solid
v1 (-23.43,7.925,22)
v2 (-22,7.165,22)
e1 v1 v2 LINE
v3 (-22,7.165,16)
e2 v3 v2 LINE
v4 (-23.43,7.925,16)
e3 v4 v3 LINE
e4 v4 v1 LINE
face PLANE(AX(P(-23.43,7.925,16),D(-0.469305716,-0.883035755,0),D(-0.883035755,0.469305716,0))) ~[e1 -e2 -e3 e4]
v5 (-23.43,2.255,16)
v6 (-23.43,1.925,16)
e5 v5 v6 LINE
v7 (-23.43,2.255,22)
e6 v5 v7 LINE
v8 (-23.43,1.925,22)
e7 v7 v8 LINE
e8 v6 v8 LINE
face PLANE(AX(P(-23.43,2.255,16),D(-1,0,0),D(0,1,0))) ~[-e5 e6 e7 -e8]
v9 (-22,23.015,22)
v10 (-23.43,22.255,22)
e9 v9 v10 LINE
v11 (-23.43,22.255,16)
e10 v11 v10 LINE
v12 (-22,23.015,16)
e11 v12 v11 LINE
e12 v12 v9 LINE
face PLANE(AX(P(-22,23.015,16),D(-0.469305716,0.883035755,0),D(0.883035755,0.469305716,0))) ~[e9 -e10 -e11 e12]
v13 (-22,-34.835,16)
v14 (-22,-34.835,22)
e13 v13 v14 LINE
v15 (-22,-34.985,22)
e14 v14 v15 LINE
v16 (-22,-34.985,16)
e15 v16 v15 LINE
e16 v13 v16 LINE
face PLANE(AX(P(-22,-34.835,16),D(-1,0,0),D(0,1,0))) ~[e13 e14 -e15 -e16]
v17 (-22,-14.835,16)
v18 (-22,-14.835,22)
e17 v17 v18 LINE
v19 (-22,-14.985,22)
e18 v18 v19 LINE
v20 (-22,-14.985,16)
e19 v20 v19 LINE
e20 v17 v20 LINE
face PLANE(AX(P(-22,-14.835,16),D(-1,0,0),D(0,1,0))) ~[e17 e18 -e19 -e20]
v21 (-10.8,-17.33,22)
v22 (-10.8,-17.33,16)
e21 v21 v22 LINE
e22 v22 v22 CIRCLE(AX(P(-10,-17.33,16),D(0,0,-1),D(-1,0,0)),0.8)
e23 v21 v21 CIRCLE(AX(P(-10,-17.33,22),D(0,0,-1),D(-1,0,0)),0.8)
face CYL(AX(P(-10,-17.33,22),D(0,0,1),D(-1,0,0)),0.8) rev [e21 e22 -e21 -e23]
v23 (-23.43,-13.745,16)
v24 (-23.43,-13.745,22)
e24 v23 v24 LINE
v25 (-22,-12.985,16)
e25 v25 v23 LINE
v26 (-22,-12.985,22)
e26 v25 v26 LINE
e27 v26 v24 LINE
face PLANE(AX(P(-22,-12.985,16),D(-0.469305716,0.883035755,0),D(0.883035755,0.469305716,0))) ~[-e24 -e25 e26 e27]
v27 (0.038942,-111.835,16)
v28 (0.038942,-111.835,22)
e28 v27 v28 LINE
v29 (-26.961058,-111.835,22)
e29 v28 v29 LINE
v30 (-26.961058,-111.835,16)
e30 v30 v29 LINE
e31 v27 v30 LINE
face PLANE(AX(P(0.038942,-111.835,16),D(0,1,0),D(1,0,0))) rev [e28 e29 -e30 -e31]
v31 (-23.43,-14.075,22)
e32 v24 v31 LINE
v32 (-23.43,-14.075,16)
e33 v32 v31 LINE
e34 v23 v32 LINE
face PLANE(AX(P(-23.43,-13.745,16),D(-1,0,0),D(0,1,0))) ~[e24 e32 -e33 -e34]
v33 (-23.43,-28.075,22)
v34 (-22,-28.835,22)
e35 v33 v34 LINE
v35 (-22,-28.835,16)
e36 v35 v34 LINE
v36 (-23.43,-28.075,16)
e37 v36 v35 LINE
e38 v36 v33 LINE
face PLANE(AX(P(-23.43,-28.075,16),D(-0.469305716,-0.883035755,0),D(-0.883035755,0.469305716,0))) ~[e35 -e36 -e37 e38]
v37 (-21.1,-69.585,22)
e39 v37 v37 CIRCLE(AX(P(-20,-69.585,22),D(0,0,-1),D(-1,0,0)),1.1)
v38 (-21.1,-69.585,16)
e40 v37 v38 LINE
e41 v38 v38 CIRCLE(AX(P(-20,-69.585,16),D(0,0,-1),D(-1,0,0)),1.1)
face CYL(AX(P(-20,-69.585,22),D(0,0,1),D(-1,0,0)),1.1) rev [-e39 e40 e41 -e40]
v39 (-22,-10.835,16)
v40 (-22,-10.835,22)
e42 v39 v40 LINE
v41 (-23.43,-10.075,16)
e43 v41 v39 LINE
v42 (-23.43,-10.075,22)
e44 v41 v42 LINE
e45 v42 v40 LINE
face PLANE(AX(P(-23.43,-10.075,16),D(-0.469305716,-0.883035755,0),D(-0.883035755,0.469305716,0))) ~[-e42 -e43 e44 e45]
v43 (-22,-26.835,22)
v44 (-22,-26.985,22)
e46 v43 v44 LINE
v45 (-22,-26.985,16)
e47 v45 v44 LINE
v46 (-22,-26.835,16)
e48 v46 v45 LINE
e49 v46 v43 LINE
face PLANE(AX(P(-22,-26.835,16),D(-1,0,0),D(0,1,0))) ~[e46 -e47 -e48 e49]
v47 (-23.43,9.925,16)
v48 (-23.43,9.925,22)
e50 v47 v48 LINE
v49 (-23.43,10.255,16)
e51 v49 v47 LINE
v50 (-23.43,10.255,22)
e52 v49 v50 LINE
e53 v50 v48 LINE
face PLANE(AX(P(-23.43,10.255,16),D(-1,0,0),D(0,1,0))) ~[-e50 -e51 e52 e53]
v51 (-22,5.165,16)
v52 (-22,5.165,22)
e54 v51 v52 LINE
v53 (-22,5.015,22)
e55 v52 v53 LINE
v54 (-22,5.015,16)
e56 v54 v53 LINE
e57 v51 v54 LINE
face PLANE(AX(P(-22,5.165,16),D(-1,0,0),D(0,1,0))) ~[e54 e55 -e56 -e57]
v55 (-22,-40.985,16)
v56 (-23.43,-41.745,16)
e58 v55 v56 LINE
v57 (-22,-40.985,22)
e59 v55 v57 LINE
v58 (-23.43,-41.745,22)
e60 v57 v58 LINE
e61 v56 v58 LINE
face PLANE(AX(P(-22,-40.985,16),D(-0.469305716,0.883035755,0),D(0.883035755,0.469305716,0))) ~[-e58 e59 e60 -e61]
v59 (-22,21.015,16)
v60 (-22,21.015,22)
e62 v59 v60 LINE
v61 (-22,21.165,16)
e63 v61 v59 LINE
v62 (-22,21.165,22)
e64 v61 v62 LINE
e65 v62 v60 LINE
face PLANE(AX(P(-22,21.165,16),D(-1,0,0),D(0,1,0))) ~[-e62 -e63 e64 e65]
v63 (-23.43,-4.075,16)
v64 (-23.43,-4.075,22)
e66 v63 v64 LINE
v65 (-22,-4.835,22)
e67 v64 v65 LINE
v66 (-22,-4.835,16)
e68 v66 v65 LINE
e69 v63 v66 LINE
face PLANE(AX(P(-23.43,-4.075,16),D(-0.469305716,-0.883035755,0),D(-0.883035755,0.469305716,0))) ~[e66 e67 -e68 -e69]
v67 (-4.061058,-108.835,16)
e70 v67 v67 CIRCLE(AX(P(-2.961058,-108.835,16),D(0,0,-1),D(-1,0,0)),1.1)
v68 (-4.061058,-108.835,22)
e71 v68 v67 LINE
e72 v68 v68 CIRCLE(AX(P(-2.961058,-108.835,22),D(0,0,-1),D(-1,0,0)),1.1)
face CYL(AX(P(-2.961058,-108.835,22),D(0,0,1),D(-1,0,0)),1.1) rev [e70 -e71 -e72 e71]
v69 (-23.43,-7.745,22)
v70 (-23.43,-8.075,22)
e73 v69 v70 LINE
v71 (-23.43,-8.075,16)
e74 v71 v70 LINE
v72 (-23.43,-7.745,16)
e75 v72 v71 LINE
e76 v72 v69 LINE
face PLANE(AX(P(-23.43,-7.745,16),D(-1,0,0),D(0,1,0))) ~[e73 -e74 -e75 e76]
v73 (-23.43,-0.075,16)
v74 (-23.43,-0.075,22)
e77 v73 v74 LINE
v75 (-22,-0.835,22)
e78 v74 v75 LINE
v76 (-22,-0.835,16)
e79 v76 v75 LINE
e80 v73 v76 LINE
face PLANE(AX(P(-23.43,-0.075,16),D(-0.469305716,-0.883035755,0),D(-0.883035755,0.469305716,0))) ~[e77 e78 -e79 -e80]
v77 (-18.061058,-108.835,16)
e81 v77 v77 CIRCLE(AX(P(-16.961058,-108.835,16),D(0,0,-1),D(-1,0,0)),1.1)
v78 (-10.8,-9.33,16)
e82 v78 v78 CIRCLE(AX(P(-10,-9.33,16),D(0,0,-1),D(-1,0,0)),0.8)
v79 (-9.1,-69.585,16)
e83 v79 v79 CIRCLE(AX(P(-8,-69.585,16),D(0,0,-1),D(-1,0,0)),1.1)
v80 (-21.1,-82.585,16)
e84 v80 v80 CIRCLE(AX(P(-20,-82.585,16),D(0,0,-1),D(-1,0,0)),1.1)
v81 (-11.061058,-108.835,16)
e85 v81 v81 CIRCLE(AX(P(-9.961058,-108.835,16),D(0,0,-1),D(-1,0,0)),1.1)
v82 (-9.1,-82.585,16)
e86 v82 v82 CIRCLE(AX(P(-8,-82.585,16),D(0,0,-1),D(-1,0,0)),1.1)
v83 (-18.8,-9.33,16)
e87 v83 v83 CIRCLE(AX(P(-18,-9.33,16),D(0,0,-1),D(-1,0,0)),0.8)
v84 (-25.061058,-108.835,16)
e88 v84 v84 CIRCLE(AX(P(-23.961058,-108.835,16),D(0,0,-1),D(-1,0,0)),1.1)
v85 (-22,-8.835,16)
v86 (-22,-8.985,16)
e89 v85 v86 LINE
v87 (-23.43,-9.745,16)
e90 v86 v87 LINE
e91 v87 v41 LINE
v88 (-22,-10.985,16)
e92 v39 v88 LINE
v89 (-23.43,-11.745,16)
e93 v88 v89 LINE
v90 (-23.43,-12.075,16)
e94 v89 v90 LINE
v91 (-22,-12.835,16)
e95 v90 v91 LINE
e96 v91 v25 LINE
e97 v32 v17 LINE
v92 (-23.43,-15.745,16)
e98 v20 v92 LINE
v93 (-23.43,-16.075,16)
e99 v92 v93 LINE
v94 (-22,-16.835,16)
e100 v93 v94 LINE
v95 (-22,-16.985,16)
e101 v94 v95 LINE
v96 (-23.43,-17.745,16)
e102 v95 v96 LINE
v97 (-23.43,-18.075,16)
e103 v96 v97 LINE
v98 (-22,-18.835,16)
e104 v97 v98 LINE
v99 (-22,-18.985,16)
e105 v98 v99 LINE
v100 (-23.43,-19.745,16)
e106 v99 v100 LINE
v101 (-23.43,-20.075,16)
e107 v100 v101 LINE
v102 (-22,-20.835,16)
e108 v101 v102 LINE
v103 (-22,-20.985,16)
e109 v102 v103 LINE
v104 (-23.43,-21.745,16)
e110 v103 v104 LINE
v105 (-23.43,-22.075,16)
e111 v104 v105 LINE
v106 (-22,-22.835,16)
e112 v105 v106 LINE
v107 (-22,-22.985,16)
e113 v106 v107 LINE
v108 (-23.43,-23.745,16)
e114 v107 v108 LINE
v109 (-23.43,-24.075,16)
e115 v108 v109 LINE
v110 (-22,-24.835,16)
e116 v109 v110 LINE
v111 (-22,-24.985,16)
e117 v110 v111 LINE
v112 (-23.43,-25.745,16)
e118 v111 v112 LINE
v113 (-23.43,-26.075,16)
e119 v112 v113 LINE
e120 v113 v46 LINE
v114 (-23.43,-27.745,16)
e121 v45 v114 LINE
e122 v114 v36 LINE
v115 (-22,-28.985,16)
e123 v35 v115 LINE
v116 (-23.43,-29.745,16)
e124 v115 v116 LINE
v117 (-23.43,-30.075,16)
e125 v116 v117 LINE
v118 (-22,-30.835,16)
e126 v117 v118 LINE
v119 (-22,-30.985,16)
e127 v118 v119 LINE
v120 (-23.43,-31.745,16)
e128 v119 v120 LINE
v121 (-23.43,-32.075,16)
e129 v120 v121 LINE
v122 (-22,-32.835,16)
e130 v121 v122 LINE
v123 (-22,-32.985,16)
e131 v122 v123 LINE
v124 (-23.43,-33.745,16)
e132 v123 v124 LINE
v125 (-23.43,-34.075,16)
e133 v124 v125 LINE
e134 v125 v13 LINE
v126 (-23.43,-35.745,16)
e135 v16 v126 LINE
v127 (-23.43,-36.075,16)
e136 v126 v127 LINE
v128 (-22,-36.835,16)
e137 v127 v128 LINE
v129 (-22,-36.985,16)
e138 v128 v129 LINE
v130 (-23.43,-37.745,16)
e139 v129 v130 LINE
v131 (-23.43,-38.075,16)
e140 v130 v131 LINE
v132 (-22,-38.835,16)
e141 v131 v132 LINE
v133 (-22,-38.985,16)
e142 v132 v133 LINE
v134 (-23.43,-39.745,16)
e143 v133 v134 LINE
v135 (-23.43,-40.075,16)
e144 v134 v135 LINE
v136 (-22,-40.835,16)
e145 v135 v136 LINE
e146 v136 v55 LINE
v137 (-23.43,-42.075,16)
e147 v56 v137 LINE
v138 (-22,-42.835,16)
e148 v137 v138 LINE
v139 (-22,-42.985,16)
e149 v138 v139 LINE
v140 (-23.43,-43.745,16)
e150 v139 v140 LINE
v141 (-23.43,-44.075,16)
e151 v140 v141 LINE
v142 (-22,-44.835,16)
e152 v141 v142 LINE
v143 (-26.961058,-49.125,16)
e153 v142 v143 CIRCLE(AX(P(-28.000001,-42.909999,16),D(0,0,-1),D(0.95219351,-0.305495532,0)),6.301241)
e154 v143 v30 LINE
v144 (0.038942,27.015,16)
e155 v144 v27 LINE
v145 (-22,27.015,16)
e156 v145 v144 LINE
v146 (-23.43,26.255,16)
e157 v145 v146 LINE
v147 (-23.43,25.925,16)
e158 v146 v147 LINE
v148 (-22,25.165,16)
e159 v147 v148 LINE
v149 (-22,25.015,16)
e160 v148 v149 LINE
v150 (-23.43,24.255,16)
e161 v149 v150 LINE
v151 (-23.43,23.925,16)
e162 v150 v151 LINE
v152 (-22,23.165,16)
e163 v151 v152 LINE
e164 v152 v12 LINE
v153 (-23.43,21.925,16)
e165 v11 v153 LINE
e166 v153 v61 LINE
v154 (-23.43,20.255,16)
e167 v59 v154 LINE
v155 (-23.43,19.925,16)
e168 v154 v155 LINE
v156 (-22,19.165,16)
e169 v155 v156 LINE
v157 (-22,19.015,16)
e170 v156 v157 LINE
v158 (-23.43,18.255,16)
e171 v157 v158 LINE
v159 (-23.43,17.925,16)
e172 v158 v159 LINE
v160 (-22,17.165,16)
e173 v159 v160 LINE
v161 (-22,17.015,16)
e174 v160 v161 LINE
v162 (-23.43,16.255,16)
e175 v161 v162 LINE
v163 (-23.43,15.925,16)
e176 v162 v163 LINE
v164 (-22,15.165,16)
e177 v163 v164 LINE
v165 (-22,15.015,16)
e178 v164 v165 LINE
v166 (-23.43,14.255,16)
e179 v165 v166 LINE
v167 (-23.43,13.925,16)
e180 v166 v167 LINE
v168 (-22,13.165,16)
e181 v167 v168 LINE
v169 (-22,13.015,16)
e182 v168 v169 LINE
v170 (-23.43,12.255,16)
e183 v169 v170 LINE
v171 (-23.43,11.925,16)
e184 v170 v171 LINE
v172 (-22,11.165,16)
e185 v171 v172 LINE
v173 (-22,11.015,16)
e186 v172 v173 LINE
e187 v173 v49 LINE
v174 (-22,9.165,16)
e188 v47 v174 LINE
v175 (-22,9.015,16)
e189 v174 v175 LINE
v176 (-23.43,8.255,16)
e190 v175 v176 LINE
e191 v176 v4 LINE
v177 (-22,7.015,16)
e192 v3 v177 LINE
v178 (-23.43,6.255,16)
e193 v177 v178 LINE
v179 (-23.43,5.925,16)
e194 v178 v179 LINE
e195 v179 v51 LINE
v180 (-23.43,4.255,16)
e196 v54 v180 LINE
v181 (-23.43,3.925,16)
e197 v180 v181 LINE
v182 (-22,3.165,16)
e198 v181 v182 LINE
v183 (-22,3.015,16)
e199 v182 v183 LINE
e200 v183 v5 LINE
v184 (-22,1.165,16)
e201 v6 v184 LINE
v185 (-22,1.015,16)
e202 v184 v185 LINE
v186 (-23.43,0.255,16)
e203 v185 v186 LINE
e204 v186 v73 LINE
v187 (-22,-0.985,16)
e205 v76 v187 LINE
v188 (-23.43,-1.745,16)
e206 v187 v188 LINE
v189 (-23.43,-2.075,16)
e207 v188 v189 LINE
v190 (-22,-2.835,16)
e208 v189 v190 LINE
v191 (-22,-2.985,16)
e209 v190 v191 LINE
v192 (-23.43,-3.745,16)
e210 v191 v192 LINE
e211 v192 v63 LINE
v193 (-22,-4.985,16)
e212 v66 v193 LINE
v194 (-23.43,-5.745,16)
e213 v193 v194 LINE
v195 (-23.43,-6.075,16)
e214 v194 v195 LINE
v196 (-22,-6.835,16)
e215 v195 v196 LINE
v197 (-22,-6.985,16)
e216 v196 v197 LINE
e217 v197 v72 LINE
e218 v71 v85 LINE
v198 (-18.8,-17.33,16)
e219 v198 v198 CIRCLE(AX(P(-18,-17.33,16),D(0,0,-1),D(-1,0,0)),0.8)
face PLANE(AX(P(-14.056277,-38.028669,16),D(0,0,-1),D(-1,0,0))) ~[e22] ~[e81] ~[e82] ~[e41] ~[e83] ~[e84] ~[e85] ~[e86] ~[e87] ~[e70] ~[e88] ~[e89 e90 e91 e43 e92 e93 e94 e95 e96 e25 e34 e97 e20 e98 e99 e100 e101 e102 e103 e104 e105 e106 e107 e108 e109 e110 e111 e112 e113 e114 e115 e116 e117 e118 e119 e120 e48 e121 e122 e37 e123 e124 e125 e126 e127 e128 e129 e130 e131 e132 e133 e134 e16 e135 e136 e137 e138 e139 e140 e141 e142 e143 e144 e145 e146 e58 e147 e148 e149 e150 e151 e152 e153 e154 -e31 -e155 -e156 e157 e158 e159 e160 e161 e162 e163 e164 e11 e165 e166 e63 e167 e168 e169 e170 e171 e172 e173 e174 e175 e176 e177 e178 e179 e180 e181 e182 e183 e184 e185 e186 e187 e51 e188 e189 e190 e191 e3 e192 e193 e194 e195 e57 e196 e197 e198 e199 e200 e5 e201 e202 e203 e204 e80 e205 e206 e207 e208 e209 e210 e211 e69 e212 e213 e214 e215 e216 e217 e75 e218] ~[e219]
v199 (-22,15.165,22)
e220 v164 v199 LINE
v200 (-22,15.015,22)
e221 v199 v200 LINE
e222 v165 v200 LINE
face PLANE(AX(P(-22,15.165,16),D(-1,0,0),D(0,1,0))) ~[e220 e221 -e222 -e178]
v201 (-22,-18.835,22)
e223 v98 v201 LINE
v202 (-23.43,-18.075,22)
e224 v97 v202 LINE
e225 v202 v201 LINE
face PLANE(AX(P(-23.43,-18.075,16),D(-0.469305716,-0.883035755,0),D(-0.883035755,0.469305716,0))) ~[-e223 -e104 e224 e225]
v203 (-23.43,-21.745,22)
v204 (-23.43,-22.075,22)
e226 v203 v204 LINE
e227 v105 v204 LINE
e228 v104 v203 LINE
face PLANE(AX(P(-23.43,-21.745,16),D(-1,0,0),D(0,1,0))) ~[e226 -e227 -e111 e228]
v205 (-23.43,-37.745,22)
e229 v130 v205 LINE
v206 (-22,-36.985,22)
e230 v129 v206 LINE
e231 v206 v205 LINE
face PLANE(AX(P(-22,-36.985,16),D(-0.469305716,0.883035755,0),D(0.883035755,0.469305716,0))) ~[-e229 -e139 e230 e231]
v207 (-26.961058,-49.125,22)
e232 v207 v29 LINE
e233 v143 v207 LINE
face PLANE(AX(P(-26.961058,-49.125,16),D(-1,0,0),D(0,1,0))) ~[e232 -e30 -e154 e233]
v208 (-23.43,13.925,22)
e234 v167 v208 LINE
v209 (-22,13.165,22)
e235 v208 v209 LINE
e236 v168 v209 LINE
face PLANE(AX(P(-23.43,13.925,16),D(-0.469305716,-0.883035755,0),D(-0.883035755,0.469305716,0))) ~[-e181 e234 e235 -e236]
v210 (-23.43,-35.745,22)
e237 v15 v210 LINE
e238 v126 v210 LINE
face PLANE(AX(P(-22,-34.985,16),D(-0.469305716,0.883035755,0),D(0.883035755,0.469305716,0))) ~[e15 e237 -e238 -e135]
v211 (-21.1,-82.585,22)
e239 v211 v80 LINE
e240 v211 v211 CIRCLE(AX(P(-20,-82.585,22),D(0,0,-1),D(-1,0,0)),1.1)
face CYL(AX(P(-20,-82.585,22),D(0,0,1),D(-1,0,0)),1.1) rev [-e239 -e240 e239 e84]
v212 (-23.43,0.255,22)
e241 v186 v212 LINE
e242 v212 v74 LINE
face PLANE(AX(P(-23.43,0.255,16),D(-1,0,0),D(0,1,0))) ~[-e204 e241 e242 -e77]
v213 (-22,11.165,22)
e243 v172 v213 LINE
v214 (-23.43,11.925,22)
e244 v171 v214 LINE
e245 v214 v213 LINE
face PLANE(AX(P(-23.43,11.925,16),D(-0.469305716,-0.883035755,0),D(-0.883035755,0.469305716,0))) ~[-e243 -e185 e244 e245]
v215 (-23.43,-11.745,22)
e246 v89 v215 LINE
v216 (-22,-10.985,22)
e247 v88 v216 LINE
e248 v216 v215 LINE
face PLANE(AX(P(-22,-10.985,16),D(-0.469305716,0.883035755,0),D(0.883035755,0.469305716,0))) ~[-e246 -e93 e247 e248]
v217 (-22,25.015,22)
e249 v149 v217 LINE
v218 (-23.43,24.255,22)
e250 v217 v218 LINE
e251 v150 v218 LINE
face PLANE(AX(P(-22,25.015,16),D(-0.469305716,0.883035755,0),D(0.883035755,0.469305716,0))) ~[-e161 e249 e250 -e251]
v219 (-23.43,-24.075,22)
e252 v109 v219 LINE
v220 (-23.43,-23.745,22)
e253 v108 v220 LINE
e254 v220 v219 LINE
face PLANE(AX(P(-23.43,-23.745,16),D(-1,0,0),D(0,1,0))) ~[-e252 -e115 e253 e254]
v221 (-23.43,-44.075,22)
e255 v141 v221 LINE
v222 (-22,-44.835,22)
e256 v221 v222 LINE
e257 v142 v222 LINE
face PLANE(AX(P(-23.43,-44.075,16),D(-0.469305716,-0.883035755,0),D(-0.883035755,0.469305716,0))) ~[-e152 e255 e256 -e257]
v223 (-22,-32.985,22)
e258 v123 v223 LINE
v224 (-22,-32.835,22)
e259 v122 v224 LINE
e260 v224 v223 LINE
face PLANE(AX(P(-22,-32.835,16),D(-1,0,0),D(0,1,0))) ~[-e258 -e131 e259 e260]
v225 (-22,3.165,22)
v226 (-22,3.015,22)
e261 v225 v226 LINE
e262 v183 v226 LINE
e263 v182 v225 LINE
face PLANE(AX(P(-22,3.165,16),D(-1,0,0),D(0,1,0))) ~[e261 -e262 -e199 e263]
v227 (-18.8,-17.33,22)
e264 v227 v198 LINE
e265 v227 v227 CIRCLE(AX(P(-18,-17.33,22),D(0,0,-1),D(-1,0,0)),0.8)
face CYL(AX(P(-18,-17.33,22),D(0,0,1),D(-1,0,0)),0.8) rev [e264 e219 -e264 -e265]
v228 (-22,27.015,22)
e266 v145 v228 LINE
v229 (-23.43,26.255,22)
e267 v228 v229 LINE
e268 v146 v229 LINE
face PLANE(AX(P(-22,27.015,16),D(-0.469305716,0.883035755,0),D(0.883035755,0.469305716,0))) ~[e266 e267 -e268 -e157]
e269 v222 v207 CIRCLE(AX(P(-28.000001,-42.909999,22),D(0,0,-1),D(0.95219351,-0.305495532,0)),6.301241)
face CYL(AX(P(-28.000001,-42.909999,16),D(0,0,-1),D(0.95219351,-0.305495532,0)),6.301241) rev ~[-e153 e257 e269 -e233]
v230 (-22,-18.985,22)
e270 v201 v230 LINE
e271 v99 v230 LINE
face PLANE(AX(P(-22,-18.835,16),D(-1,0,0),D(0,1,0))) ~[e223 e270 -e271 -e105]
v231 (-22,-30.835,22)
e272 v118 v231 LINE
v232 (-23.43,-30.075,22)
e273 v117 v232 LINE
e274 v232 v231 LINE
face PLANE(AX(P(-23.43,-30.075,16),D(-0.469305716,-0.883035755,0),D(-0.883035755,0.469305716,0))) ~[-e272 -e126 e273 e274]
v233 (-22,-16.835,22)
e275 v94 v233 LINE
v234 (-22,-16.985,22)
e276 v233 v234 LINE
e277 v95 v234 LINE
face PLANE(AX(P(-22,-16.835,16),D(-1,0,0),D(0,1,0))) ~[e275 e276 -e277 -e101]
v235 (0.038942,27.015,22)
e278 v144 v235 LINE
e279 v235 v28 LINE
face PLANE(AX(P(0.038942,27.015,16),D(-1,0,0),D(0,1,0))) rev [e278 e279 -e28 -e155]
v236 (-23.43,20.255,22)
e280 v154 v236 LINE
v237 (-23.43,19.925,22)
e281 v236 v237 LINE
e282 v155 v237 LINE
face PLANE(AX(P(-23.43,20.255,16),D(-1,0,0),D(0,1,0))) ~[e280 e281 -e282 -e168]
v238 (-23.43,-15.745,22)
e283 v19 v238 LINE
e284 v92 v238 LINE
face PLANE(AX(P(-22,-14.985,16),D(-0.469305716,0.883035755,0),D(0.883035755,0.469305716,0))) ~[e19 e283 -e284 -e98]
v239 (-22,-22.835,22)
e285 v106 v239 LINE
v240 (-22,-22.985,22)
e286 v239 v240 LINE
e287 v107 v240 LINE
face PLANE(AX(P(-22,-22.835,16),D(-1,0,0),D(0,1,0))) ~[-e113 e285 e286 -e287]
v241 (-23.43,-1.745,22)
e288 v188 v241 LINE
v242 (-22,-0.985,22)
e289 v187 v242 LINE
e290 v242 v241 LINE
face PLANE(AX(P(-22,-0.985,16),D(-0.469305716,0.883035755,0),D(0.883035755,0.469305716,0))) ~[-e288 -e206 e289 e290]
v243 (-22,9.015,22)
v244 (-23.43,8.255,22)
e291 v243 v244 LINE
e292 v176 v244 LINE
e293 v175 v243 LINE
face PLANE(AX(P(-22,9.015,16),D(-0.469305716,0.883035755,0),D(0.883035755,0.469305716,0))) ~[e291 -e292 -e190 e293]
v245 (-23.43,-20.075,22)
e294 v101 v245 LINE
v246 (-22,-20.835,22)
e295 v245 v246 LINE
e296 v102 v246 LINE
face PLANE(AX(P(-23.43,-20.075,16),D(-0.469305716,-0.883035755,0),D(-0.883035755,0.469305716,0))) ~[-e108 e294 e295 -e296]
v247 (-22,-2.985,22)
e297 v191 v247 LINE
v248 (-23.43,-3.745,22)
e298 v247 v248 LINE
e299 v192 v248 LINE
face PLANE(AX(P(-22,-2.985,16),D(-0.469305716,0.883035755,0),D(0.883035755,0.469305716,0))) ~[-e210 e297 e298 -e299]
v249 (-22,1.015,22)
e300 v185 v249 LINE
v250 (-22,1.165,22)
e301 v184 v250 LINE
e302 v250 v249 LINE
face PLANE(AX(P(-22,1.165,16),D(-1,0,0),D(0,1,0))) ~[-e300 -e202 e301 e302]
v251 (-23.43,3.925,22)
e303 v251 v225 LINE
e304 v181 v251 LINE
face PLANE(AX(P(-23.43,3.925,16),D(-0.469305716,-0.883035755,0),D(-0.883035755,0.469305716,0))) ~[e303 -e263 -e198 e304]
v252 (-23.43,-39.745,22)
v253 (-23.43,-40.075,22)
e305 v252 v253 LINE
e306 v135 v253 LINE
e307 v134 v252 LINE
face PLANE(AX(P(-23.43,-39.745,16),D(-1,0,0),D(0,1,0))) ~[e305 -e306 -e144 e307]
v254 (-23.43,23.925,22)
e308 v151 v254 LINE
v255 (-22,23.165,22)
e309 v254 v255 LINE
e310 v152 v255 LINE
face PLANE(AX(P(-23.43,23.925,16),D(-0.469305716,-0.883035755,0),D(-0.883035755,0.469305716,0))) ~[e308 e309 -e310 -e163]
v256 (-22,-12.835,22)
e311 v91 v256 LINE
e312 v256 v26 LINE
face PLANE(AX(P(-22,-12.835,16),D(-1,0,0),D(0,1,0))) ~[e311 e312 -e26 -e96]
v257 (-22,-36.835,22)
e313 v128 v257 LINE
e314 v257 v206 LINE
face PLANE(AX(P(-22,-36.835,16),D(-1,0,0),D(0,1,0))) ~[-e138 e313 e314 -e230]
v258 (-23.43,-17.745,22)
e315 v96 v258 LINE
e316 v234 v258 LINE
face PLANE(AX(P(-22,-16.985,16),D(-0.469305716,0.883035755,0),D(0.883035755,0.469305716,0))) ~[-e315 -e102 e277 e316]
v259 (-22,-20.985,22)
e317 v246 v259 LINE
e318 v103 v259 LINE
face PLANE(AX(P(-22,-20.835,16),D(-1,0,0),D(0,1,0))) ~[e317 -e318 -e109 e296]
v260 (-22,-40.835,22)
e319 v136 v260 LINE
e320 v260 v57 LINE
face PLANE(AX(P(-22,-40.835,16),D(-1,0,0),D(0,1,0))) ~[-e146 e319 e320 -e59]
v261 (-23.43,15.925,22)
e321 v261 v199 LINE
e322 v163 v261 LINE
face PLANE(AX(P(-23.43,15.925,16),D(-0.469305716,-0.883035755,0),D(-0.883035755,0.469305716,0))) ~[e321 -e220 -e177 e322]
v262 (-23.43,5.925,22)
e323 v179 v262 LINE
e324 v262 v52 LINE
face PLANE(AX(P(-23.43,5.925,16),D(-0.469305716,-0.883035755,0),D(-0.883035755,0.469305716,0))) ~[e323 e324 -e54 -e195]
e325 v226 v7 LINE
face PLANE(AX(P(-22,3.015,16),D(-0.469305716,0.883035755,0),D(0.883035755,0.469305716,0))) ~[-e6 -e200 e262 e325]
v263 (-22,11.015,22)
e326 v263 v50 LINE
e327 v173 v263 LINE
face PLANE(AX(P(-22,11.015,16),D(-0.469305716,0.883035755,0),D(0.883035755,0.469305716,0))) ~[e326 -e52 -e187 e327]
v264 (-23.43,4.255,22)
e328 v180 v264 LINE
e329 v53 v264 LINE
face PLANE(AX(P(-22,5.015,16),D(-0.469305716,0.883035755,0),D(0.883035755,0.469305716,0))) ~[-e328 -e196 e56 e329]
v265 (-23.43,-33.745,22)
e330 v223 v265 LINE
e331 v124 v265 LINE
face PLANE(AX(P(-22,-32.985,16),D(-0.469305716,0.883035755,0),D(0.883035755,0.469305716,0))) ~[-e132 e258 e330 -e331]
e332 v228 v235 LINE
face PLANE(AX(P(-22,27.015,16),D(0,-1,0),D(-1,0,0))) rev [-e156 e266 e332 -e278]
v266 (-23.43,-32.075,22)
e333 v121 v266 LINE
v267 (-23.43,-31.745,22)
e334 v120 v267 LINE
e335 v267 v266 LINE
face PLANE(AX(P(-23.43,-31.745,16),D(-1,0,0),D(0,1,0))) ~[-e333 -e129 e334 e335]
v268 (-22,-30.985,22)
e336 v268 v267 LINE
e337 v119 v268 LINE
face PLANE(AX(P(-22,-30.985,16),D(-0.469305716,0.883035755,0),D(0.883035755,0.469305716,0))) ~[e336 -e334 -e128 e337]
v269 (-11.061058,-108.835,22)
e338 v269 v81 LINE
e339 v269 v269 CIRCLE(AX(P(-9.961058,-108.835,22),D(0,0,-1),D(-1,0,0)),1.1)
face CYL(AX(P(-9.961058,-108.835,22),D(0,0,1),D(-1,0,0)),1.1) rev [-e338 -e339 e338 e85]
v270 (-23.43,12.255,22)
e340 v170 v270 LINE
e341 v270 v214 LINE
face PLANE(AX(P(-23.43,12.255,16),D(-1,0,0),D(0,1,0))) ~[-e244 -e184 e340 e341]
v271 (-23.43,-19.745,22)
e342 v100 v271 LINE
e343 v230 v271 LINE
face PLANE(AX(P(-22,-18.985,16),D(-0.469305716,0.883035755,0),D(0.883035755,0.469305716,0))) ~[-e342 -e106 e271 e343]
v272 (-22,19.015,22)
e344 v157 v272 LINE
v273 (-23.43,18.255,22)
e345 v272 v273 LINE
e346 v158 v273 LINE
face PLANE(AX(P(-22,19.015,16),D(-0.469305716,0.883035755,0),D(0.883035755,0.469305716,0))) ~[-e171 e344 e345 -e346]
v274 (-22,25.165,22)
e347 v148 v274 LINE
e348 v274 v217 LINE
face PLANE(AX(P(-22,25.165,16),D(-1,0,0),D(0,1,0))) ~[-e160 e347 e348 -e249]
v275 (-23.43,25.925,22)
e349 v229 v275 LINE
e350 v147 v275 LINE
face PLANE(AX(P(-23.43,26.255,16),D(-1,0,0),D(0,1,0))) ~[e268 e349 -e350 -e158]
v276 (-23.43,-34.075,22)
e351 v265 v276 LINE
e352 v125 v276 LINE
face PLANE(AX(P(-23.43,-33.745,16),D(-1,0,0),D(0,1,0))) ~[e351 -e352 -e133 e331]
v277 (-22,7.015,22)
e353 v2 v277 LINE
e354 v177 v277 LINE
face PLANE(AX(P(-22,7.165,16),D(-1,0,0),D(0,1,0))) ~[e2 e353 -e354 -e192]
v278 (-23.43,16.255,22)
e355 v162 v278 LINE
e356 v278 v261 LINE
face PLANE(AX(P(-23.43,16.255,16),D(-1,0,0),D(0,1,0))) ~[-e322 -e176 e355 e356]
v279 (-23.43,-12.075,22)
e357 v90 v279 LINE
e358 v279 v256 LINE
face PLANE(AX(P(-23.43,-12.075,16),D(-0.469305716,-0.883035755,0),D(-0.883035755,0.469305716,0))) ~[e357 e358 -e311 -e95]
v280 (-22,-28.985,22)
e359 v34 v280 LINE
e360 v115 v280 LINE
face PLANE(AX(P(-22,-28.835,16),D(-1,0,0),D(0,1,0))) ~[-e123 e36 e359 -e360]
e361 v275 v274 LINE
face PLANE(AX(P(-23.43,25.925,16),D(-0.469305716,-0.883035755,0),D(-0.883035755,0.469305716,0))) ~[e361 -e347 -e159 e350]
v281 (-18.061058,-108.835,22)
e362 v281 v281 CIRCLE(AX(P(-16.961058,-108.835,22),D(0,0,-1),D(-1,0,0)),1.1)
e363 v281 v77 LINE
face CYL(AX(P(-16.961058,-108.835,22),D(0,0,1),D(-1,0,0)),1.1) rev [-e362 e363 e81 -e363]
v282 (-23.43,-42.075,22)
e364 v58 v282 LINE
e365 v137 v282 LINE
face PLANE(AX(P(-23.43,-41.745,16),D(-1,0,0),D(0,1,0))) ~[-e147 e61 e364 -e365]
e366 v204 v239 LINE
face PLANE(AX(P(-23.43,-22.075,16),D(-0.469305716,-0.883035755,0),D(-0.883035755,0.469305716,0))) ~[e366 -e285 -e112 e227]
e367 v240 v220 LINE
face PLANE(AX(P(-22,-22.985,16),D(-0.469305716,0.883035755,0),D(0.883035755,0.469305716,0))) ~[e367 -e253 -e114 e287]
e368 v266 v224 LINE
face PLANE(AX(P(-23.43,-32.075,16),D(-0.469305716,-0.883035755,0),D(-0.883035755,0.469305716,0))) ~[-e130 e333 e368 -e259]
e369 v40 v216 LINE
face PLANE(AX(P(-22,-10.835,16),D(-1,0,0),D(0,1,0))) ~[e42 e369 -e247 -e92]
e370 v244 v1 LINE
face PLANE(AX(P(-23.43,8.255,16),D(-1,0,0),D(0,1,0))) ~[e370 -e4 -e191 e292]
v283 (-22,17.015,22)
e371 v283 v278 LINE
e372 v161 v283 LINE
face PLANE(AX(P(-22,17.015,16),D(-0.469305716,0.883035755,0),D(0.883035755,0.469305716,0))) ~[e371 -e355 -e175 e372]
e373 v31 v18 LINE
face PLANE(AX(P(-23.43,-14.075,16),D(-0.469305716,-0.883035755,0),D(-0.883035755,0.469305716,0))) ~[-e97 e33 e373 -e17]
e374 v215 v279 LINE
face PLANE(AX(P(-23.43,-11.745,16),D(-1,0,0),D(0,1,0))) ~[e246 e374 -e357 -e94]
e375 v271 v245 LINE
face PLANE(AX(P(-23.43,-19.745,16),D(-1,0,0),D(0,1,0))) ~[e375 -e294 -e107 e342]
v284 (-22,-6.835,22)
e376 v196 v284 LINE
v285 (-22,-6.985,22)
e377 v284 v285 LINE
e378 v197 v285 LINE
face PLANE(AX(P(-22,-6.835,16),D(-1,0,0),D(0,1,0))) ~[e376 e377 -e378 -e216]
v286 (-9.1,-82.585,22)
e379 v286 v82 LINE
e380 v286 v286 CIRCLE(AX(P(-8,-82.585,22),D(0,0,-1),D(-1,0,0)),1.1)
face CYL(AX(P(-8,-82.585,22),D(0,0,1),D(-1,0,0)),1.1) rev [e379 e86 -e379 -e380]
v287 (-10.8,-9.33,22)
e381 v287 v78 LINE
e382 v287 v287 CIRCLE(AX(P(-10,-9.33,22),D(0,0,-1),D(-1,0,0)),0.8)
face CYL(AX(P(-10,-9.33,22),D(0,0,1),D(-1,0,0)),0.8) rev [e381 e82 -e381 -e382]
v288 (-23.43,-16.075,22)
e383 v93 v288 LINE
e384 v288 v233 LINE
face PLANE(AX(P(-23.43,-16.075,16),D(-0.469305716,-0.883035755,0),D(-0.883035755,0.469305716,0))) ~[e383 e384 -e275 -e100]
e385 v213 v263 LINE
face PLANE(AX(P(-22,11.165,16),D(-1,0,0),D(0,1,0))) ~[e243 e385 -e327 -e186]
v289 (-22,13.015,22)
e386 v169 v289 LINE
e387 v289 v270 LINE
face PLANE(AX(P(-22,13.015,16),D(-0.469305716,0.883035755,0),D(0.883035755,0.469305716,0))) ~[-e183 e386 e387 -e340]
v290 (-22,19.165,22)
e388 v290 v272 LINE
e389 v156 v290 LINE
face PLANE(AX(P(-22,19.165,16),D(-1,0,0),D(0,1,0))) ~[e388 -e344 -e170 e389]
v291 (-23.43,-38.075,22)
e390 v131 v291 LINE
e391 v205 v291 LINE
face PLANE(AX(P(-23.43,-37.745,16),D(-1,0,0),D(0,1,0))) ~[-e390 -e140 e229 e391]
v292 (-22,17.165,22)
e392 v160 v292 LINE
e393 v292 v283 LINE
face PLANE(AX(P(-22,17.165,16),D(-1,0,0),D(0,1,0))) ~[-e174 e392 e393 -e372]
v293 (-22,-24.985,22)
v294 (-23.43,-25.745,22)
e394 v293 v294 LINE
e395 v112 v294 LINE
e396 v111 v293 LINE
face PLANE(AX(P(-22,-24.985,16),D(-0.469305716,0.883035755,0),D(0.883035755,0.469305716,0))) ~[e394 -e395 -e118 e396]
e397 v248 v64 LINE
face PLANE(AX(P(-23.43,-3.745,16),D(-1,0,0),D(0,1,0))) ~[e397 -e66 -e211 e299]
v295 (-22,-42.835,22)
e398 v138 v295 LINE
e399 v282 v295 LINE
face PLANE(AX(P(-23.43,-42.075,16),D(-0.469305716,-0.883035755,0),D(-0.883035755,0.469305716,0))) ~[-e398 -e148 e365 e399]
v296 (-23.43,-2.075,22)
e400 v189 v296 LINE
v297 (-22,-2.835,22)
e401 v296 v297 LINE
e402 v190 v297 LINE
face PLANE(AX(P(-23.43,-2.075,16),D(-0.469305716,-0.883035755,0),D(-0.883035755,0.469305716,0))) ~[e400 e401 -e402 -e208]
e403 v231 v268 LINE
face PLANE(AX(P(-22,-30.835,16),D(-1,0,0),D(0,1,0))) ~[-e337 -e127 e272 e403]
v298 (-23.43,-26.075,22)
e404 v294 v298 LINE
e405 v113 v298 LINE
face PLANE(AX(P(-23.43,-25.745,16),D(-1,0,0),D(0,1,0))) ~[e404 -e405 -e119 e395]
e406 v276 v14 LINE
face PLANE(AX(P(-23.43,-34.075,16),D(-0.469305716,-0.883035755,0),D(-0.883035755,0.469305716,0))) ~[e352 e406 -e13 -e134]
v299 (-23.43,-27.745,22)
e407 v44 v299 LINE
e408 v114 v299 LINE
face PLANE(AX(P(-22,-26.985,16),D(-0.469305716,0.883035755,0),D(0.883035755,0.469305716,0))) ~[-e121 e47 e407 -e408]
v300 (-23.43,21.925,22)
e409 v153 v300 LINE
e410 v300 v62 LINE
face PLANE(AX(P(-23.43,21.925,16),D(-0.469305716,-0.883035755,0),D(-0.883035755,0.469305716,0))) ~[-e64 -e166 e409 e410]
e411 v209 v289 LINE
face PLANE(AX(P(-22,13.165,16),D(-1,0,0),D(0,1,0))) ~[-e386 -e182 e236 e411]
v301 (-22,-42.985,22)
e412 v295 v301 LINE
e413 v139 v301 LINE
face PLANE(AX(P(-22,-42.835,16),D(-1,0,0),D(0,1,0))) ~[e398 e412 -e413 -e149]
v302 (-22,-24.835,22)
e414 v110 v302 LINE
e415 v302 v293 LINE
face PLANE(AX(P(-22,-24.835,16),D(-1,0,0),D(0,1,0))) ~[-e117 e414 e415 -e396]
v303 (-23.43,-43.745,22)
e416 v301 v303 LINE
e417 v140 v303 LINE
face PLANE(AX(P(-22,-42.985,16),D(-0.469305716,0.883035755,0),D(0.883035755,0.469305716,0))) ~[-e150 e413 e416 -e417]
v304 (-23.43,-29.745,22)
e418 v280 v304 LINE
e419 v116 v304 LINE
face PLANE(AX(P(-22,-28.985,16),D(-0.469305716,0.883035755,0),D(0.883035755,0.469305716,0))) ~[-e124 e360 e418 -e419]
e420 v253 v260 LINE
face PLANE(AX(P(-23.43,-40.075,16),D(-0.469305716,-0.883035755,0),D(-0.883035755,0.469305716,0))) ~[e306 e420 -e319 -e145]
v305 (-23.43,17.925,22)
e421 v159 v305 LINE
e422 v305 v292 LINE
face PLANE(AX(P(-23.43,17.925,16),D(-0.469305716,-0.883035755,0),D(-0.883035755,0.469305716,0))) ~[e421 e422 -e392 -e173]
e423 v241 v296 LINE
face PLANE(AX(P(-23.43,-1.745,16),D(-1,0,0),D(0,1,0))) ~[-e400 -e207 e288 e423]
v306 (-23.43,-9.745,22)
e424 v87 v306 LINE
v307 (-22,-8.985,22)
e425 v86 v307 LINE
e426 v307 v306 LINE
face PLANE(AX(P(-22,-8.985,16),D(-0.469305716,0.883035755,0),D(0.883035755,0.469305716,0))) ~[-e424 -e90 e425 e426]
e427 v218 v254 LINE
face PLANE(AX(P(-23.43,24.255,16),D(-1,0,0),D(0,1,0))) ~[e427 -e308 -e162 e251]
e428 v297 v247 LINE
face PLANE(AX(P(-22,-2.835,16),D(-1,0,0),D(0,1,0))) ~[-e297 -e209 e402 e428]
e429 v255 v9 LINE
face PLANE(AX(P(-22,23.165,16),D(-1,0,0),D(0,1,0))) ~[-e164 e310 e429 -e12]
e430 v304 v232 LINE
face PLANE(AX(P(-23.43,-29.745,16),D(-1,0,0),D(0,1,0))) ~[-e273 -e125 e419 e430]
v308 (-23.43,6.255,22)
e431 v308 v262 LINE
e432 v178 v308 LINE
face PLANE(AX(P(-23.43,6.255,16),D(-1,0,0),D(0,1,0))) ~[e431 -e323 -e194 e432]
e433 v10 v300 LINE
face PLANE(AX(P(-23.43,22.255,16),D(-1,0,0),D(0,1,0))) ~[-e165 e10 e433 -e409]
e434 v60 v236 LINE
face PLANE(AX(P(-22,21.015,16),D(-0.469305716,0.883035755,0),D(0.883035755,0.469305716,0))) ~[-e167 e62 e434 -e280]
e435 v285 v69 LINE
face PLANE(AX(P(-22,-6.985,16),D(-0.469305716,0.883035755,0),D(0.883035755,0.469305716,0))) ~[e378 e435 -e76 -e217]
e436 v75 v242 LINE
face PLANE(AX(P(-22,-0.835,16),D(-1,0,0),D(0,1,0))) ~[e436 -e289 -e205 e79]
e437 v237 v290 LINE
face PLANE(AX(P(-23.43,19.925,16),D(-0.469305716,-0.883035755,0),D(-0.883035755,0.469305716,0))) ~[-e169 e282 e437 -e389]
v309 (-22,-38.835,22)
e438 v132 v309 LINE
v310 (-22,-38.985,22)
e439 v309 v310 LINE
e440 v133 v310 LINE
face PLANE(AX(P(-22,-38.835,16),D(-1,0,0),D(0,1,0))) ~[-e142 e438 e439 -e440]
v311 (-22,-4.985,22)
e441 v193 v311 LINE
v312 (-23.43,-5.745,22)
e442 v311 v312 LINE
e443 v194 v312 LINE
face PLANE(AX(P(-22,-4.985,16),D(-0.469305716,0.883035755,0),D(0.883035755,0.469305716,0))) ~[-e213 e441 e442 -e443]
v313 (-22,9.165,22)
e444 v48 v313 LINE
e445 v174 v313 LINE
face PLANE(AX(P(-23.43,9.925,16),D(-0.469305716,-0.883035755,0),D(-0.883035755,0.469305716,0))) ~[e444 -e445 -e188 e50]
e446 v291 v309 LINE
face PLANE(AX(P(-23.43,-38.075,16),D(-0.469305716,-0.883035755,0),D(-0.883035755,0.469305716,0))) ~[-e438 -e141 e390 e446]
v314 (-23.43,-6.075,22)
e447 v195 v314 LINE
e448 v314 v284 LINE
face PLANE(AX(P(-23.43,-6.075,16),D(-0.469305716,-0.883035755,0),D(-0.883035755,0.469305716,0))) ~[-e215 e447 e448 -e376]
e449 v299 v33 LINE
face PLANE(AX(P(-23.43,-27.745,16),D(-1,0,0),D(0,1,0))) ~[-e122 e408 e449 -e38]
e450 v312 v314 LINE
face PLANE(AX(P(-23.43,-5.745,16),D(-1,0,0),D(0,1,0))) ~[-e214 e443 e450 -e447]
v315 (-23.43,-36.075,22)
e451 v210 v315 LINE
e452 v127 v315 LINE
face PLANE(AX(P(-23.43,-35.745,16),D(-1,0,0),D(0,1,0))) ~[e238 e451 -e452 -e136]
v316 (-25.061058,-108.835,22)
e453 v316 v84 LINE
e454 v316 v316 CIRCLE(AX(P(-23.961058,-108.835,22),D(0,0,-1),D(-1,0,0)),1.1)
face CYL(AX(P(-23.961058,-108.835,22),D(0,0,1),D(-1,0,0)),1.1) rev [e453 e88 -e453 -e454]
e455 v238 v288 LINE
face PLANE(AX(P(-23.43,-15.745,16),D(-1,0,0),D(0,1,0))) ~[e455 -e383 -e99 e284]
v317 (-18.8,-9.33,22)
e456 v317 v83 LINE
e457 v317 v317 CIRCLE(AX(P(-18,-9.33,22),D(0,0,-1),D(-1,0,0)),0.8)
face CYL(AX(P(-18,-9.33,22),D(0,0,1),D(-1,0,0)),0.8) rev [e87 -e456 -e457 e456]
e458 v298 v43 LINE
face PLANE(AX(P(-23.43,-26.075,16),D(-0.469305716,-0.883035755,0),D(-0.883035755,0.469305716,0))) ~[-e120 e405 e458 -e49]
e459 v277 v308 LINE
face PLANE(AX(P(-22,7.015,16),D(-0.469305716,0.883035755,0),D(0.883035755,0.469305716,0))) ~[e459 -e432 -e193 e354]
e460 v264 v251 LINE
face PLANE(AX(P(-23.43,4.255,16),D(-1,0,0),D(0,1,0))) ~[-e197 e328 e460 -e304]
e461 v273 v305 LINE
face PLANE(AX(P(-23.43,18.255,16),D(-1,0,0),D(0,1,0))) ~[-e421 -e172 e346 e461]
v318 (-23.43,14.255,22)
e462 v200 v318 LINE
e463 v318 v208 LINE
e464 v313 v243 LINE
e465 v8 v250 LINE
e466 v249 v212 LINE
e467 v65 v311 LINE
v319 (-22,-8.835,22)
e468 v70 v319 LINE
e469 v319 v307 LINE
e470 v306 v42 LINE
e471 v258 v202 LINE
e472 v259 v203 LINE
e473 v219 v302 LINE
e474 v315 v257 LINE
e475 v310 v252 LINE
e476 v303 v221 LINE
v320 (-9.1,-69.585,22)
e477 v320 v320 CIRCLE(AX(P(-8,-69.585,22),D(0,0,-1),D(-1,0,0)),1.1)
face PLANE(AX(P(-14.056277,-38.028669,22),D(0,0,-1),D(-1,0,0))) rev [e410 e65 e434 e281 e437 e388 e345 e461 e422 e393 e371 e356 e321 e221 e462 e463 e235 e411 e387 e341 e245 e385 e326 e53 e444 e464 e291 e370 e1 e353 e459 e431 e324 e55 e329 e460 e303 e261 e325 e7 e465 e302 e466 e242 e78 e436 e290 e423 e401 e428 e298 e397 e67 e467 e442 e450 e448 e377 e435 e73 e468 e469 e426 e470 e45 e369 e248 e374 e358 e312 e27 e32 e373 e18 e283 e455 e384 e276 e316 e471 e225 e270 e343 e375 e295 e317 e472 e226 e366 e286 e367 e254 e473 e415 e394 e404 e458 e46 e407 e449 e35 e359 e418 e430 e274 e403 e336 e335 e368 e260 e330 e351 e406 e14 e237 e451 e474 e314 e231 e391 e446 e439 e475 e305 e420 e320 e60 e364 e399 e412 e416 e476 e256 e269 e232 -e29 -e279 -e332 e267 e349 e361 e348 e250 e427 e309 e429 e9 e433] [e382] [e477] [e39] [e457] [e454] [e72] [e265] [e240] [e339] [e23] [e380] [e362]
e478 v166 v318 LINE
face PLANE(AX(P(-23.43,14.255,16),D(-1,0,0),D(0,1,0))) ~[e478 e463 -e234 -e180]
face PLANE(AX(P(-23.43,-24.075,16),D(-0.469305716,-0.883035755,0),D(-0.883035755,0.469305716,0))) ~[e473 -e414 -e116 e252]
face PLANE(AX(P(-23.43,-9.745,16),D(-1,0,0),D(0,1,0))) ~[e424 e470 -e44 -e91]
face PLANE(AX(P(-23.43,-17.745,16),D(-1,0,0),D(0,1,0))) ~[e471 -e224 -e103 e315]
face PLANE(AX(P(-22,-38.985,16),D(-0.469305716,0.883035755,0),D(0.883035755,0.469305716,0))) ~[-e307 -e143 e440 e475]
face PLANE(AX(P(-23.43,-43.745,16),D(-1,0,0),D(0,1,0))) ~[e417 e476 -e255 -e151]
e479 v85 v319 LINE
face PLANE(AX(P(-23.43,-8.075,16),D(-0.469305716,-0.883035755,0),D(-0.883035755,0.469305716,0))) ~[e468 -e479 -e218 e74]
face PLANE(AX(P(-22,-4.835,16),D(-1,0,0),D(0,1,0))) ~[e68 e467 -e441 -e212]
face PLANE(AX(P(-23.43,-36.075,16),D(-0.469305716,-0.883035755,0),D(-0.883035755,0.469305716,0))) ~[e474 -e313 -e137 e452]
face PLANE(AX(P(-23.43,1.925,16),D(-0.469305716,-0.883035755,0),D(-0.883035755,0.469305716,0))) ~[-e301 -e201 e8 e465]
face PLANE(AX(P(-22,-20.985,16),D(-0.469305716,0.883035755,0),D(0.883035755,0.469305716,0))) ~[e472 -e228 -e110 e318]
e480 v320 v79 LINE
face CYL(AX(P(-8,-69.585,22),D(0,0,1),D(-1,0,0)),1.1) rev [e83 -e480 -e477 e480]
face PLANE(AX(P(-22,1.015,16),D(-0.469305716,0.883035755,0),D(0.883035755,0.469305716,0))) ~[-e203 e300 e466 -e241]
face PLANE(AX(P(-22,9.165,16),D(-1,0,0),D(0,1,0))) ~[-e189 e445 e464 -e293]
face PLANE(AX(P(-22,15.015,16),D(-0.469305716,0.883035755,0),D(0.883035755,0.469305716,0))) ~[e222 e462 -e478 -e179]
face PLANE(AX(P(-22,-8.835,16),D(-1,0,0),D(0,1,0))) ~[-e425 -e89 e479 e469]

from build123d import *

# Parameters (mm, degrees)
PAD010_DEPTH  = 6
SKETCH038_R   = 1.1
HOLE011_DEPTH = 25
SKETCH039_R   = 1.1
HOLE012_DEPTH = 25
SKETCH052_R   = 0.8
HOLE019_DEPTH = 25


with BuildPart() as lift:
    # Sketch037 → Pad010 (new body)
    with BuildSketch(Plane.XY):
        with BuildLine():
            Line((-32.57, 26.255), (-32.57, 25.925))
            Line((-32.57, 25.925), (-34, 25.165))
            Line((-34, 25.165), (-34, 25.015))
            Line((-34, 25.015), (-32.57, 24.255))
            Line((-32.57, 24.255), (-32.57, 23.925))
            Line((-32.57, 23.925), (-34, 23.165))
            Line((-34, 23.165), (-34, 23.015))
            Line((-34, 23.015), (-32.57, 22.255))
            Line((-32.57, 22.255), (-32.57, 21.925))
            Line((-32.57, 21.925), (-34, 21.165))
            Line((-34, 21.165), (-34, 21.015))
            Line((-34, 21.015), (-32.57, 20.255))
            Line((-32.57, 20.255), (-32.57, 19.925))
            Line((-32.57, 19.925), (-34, 19.165))
            Line((-34, 19.165), (-34, 19.015))
            Line((-34, 19.015), (-32.57, 18.255))
            Line((-32.57, 18.255), (-32.57, 17.925))
            Line((-32.57, 17.925), (-34, 17.165))
            Line((-34, 17.165), (-34, 17.015))
            Line((-34, 17.015), (-32.57, 16.255))
            Line((-32.57, 16.255), (-32.57, 15.925))
            Line((-32.57, 15.925), (-34, 15.165))
            Line((-34, 15.165), (-34, 15.015))
            Line((-34, 15.015), (-32.57, 14.255))
            Line((-32.57, 14.255), (-32.57, 13.925))
            Line((-32.57, 13.925), (-34, 13.165))
            Line((-34, 13.165), (-34, 13.015))
            Line((-34, 13.015), (-32.57, 12.255))
            Line((-32.57, 12.255), (-32.57, 11.925))
            Line((-32.57, 11.925), (-34, 11.165))
            Line((-34, 11.165), (-34, 11.015))
            Line((-34, 11.015), (-32.57, 10.255))
            Line((-32.57, 10.255), (-32.57, 9.925))
            Line((-32.57, 9.925), (-34, 9.165))
            Line((-34, 9.165), (-34, 9.015))
            Line((-34, 9.015), (-32.57, 8.255))
            Line((-32.57, 8.255), (-32.57, 7.925))
            Line((-32.57, 7.925), (-34, 7.165))
            Line((-34, 7.165), (-34, 7.015))
            Line((-34, 7.015), (-32.57, 6.255))
            Line((-32.57, 6.255), (-32.57, 5.925))
            Line((-32.57, 5.925), (-34, 5.165))
            Line((-34, 5.165), (-34, 5.015))
            Line((-34, 5.015), (-32.57, 4.255))
            Line((-32.57, 4.255), (-32.57, 3.925))
            Line((-32.57, 3.925), (-34, 3.165))
            Line((-34, 3.165), (-34, 3.015))
            Line((-34, 3.015), (-32.57, 2.255))
            Line((-32.57, 2.255), (-32.57, 1.925))
            Line((-32.57, 1.925), (-34, 1.165))
            Line((-34, 1.165), (-34, 1.015))
            Line((-34, 1.015), (-32.57, 0.255))
            Line((-32.57, 0.255), (-32.57, -0.075))
            Line((-32.57, -0.075), (-34, -0.835))
            Line((-34, -0.835), (-34, -0.985))
            Line((-34, -0.985), (-32.57, -1.745))
            Line((-32.57, -1.745), (-32.57, -2.075))
            Line((-32.57, -2.075), (-34, -2.835))
            Line((-34, -2.835), (-34, -2.985))
            Line((-34, -2.985), (-32.57, -3.745))
            Line((-32.57, -3.745), (-32.57, -4.075))
            Line((-32.57, -4.075), (-34, -4.835))
            Line((-34, -4.835), (-34, -4.985))
            Line((-34, -4.985), (-32.57, -5.745))
            Line((-32.57, -5.745), (-32.57, -6.075))
            Line((-32.57, -6.075), (-34, -6.835))
            Line((-34, -6.835), (-34, -6.985))
            Line((-34, -6.985), (-32.57, -7.745))
            Line((-32.57, -7.745), (-32.57, -8.075))
            Line((-32.57, -8.075), (-34, -8.835))
            Line((-34, -8.835), (-34, -8.985))
            Line((-34, -8.985), (-32.57, -9.745))
            Line((-32.57, -9.745), (-32.57, -10.075))
            Line((-32.57, -10.075), (-34, -10.835))
            Line((-34, -10.835), (-34, -10.985))
            Line((-34, -10.985), (-32.57, -11.745))
            Line((-32.57, -11.745), (-32.57, -12.075))
            Line((-32.57, -12.075), (-34, -12.835))
            Line((-34, -12.835), (-34, -12.985))
            Line((-34, -12.985), (-32.57, -13.745))
            Line((-32.57, -13.745), (-32.57, -14.075))
            Line((-32.57, -14.075), (-34, -14.835))
            Line((-34, -14.835), (-34, -14.985))
            Line((-34, -14.985), (-32.57, -15.745))
            Line((-32.57, -15.745), (-32.57, -16.075))
            Line((-32.57, -16.075), (-34, -16.835))
            Line((-34, -16.835), (-34, -16.985))
            Line((-34, -16.985), (-32.57, -17.745))
            Line((-32.57, -17.745), (-32.57, -18.075))
            Line((-32.57, -18.075), (-34, -18.835))
            Line((-34, -18.835), (-34, -18.985))
            Line((-34, -18.985), (-32.57, -19.745))
            Line((-32.57, -19.745), (-32.57, -20.075))
            Line((-32.57, -20.075), (-34, -20.835))
            Line((-34, -20.835), (-34, -20.985))
            Line((-34, -20.985), (-32.57, -21.745))
            Line((-32.57, -21.745), (-32.57, -22.075))
            Line((-32.57, -22.075), (-34, -22.835))
            Line((-34, -22.835), (-34, -22.985))
            Line((-34, -22.985), (-32.57, -23.745))
            Line((-32.57, -23.745), (-32.57, -24.075))
            Line((-32.57, -24.075), (-34, -24.835))
            Line((-34, -24.835), (-34, -24.985))
            Line((-34, -24.985), (-32.57, -25.745))
            Line((-32.57, -25.745), (-32.57, -26.075))
            Line((-32.57, -26.075), (-34, -26.835))
            Line((-34, -26.835), (-34, -26.985))
            Line((-34, -26.985), (-32.57, -27.745))
            Line((-32.57, -27.745), (-32.57, -28.075))
            Line((-32.57, -28.075), (-34, -28.835))
            Line((-34, -28.835), (-34, -28.985))
            Line((-34, -28.985), (-32.57, -29.745))
            Line((-32.57, -29.745), (-32.57, -30.075))
            Line((-32.57, -30.075), (-34, -30.835))
            Line((-34, -30.835), (-34, -30.985))
            Line((-34, -30.985), (-32.57, -31.745))
            Line((-32.57, -31.745), (-32.57, -32.075))
            Line((-32.57, -32.075), (-34, -32.835))
            Line((-34, -32.835), (-34, -32.985))
            Line((-34, -32.985), (-32.57, -33.745))
            Line((-32.57, -33.745), (-32.57, -34.075))
            Line((-32.57, -34.075), (-34, -34.835))
            Line((-34, -34.835), (-34, -34.985))
            Line((-34, -34.985), (-32.57, -35.745))
            Line((-32.57, -35.745), (-32.57, -36.075))
            Line((-32.57, -36.075), (-34, -36.835))
            Line((-34, -36.835), (-34, -36.985))
            Line((-34, -36.985), (-32.57, -37.745))
            Line((-32.57, -37.745), (-32.57, -38.075))
            Line((-32.57, -38.075), (-34, -38.835))
            Line((-34, -38.835), (-34, -38.985))
            Line((-34, -38.985), (-32.57, -39.745))
            Line((-32.57, -39.745), (-32.57, -40.075))
            Line((-32.57, -40.075), (-34, -40.835))
            Line((-34, -40.835), (-34, -40.985))
            Line((-34, -40.985), (-32.57, -41.745))
            Line((-32.57, -41.745), (-32.57, -42.075))
            Line((-32.57, -42.075), (-34, -42.835))
            Line((-34, -42.835), (-34, -42.985))
            Line((-34, -42.985), (-32.57, -43.745))
            Line((-32.57, -43.745), (-32.57, -44.075))
            Line((-32.57, -44.075), (-34, -44.835))
            ThreePointArc((-34, -44.835), (-32.121614, -47.676332), (-29.038942, -49.125))
            Line((-29.038942, -49.125), (-29.038942, -111.835))
            Line((-56.038942, -111.835), (-29.038942, -111.835))
            Line((-56.038942, 27.015), (-56.038942, -111.835))
            Line((-34, 27.015), (-56.038942, 27.015))
            Line((-34, 27.015), (-32.57, 26.255))
        make_face()
    extrude(amount=PAD010_DEPTH)

    # Sketch038 (on Face150 of Pad010) → Hole011 (cut)
    with BuildSketch(Plane.XY.offset(6)):
        with Locations((-48, -69.585)):
            Circle(SKETCH038_R)
        with Locations((-36, -69.585)):
            Circle(SKETCH038_R)
        with Locations((-48, -82.585)):
            Circle(SKETCH038_R)
        with Locations((-36, -82.585)):
            Circle(SKETCH038_R)
    extrude(amount=-HOLE011_DEPTH, mode=Mode.SUBTRACT)

    # Sketch039 (on Face5 of Hole011) → Hole012 (cut)
    with BuildSketch(Plane.XY.offset(6)):
        with Locations((-53.038942, -108.835)):
            Circle(SKETCH039_R)
        with Locations((-46.038942, -108.835)):
            Circle(SKETCH039_R)
        with Locations((-39.038942, -108.835)):
            Circle(SKETCH039_R)
        with Locations((-32.038942, -108.835)):
            Circle(SKETCH039_R)
    extrude(amount=-HOLE012_DEPTH, mode=Mode.SUBTRACT)

    # Sketch052 (on Face5 of Hole012) → Hole019 (cut)
    with BuildSketch(Plane.XY.offset(6)):
        with Locations((-46, -9.33)):
            Circle(SKETCH052_R)
        with Locations((-38, -9.33)):
            Circle(SKETCH052_R)
        with Locations((-46, -17.33)):
            Circle(SKETCH052_R)
        with Locations((-38, -17.33)):
            Circle(SKETCH052_R)
    extrude(amount=-HOLE019_DEPTH, mode=Mode.SUBTRACT)


with BuildPart() as part_mirroring:
    # Part__Mirroring: instance of Lift
    add(lift.part.mirror(Plane(origin=(0, 0, 0), x_dir=(0, -1, 0), z_dir=(1, 0, 0))))


with BuildPart() as part_mirroring_1:
    # Part__Mirroring placement: moved
    add(part_mirroring.part.moved(Location((-56, 0, 16))))


solid = part_mirroring_1.part
